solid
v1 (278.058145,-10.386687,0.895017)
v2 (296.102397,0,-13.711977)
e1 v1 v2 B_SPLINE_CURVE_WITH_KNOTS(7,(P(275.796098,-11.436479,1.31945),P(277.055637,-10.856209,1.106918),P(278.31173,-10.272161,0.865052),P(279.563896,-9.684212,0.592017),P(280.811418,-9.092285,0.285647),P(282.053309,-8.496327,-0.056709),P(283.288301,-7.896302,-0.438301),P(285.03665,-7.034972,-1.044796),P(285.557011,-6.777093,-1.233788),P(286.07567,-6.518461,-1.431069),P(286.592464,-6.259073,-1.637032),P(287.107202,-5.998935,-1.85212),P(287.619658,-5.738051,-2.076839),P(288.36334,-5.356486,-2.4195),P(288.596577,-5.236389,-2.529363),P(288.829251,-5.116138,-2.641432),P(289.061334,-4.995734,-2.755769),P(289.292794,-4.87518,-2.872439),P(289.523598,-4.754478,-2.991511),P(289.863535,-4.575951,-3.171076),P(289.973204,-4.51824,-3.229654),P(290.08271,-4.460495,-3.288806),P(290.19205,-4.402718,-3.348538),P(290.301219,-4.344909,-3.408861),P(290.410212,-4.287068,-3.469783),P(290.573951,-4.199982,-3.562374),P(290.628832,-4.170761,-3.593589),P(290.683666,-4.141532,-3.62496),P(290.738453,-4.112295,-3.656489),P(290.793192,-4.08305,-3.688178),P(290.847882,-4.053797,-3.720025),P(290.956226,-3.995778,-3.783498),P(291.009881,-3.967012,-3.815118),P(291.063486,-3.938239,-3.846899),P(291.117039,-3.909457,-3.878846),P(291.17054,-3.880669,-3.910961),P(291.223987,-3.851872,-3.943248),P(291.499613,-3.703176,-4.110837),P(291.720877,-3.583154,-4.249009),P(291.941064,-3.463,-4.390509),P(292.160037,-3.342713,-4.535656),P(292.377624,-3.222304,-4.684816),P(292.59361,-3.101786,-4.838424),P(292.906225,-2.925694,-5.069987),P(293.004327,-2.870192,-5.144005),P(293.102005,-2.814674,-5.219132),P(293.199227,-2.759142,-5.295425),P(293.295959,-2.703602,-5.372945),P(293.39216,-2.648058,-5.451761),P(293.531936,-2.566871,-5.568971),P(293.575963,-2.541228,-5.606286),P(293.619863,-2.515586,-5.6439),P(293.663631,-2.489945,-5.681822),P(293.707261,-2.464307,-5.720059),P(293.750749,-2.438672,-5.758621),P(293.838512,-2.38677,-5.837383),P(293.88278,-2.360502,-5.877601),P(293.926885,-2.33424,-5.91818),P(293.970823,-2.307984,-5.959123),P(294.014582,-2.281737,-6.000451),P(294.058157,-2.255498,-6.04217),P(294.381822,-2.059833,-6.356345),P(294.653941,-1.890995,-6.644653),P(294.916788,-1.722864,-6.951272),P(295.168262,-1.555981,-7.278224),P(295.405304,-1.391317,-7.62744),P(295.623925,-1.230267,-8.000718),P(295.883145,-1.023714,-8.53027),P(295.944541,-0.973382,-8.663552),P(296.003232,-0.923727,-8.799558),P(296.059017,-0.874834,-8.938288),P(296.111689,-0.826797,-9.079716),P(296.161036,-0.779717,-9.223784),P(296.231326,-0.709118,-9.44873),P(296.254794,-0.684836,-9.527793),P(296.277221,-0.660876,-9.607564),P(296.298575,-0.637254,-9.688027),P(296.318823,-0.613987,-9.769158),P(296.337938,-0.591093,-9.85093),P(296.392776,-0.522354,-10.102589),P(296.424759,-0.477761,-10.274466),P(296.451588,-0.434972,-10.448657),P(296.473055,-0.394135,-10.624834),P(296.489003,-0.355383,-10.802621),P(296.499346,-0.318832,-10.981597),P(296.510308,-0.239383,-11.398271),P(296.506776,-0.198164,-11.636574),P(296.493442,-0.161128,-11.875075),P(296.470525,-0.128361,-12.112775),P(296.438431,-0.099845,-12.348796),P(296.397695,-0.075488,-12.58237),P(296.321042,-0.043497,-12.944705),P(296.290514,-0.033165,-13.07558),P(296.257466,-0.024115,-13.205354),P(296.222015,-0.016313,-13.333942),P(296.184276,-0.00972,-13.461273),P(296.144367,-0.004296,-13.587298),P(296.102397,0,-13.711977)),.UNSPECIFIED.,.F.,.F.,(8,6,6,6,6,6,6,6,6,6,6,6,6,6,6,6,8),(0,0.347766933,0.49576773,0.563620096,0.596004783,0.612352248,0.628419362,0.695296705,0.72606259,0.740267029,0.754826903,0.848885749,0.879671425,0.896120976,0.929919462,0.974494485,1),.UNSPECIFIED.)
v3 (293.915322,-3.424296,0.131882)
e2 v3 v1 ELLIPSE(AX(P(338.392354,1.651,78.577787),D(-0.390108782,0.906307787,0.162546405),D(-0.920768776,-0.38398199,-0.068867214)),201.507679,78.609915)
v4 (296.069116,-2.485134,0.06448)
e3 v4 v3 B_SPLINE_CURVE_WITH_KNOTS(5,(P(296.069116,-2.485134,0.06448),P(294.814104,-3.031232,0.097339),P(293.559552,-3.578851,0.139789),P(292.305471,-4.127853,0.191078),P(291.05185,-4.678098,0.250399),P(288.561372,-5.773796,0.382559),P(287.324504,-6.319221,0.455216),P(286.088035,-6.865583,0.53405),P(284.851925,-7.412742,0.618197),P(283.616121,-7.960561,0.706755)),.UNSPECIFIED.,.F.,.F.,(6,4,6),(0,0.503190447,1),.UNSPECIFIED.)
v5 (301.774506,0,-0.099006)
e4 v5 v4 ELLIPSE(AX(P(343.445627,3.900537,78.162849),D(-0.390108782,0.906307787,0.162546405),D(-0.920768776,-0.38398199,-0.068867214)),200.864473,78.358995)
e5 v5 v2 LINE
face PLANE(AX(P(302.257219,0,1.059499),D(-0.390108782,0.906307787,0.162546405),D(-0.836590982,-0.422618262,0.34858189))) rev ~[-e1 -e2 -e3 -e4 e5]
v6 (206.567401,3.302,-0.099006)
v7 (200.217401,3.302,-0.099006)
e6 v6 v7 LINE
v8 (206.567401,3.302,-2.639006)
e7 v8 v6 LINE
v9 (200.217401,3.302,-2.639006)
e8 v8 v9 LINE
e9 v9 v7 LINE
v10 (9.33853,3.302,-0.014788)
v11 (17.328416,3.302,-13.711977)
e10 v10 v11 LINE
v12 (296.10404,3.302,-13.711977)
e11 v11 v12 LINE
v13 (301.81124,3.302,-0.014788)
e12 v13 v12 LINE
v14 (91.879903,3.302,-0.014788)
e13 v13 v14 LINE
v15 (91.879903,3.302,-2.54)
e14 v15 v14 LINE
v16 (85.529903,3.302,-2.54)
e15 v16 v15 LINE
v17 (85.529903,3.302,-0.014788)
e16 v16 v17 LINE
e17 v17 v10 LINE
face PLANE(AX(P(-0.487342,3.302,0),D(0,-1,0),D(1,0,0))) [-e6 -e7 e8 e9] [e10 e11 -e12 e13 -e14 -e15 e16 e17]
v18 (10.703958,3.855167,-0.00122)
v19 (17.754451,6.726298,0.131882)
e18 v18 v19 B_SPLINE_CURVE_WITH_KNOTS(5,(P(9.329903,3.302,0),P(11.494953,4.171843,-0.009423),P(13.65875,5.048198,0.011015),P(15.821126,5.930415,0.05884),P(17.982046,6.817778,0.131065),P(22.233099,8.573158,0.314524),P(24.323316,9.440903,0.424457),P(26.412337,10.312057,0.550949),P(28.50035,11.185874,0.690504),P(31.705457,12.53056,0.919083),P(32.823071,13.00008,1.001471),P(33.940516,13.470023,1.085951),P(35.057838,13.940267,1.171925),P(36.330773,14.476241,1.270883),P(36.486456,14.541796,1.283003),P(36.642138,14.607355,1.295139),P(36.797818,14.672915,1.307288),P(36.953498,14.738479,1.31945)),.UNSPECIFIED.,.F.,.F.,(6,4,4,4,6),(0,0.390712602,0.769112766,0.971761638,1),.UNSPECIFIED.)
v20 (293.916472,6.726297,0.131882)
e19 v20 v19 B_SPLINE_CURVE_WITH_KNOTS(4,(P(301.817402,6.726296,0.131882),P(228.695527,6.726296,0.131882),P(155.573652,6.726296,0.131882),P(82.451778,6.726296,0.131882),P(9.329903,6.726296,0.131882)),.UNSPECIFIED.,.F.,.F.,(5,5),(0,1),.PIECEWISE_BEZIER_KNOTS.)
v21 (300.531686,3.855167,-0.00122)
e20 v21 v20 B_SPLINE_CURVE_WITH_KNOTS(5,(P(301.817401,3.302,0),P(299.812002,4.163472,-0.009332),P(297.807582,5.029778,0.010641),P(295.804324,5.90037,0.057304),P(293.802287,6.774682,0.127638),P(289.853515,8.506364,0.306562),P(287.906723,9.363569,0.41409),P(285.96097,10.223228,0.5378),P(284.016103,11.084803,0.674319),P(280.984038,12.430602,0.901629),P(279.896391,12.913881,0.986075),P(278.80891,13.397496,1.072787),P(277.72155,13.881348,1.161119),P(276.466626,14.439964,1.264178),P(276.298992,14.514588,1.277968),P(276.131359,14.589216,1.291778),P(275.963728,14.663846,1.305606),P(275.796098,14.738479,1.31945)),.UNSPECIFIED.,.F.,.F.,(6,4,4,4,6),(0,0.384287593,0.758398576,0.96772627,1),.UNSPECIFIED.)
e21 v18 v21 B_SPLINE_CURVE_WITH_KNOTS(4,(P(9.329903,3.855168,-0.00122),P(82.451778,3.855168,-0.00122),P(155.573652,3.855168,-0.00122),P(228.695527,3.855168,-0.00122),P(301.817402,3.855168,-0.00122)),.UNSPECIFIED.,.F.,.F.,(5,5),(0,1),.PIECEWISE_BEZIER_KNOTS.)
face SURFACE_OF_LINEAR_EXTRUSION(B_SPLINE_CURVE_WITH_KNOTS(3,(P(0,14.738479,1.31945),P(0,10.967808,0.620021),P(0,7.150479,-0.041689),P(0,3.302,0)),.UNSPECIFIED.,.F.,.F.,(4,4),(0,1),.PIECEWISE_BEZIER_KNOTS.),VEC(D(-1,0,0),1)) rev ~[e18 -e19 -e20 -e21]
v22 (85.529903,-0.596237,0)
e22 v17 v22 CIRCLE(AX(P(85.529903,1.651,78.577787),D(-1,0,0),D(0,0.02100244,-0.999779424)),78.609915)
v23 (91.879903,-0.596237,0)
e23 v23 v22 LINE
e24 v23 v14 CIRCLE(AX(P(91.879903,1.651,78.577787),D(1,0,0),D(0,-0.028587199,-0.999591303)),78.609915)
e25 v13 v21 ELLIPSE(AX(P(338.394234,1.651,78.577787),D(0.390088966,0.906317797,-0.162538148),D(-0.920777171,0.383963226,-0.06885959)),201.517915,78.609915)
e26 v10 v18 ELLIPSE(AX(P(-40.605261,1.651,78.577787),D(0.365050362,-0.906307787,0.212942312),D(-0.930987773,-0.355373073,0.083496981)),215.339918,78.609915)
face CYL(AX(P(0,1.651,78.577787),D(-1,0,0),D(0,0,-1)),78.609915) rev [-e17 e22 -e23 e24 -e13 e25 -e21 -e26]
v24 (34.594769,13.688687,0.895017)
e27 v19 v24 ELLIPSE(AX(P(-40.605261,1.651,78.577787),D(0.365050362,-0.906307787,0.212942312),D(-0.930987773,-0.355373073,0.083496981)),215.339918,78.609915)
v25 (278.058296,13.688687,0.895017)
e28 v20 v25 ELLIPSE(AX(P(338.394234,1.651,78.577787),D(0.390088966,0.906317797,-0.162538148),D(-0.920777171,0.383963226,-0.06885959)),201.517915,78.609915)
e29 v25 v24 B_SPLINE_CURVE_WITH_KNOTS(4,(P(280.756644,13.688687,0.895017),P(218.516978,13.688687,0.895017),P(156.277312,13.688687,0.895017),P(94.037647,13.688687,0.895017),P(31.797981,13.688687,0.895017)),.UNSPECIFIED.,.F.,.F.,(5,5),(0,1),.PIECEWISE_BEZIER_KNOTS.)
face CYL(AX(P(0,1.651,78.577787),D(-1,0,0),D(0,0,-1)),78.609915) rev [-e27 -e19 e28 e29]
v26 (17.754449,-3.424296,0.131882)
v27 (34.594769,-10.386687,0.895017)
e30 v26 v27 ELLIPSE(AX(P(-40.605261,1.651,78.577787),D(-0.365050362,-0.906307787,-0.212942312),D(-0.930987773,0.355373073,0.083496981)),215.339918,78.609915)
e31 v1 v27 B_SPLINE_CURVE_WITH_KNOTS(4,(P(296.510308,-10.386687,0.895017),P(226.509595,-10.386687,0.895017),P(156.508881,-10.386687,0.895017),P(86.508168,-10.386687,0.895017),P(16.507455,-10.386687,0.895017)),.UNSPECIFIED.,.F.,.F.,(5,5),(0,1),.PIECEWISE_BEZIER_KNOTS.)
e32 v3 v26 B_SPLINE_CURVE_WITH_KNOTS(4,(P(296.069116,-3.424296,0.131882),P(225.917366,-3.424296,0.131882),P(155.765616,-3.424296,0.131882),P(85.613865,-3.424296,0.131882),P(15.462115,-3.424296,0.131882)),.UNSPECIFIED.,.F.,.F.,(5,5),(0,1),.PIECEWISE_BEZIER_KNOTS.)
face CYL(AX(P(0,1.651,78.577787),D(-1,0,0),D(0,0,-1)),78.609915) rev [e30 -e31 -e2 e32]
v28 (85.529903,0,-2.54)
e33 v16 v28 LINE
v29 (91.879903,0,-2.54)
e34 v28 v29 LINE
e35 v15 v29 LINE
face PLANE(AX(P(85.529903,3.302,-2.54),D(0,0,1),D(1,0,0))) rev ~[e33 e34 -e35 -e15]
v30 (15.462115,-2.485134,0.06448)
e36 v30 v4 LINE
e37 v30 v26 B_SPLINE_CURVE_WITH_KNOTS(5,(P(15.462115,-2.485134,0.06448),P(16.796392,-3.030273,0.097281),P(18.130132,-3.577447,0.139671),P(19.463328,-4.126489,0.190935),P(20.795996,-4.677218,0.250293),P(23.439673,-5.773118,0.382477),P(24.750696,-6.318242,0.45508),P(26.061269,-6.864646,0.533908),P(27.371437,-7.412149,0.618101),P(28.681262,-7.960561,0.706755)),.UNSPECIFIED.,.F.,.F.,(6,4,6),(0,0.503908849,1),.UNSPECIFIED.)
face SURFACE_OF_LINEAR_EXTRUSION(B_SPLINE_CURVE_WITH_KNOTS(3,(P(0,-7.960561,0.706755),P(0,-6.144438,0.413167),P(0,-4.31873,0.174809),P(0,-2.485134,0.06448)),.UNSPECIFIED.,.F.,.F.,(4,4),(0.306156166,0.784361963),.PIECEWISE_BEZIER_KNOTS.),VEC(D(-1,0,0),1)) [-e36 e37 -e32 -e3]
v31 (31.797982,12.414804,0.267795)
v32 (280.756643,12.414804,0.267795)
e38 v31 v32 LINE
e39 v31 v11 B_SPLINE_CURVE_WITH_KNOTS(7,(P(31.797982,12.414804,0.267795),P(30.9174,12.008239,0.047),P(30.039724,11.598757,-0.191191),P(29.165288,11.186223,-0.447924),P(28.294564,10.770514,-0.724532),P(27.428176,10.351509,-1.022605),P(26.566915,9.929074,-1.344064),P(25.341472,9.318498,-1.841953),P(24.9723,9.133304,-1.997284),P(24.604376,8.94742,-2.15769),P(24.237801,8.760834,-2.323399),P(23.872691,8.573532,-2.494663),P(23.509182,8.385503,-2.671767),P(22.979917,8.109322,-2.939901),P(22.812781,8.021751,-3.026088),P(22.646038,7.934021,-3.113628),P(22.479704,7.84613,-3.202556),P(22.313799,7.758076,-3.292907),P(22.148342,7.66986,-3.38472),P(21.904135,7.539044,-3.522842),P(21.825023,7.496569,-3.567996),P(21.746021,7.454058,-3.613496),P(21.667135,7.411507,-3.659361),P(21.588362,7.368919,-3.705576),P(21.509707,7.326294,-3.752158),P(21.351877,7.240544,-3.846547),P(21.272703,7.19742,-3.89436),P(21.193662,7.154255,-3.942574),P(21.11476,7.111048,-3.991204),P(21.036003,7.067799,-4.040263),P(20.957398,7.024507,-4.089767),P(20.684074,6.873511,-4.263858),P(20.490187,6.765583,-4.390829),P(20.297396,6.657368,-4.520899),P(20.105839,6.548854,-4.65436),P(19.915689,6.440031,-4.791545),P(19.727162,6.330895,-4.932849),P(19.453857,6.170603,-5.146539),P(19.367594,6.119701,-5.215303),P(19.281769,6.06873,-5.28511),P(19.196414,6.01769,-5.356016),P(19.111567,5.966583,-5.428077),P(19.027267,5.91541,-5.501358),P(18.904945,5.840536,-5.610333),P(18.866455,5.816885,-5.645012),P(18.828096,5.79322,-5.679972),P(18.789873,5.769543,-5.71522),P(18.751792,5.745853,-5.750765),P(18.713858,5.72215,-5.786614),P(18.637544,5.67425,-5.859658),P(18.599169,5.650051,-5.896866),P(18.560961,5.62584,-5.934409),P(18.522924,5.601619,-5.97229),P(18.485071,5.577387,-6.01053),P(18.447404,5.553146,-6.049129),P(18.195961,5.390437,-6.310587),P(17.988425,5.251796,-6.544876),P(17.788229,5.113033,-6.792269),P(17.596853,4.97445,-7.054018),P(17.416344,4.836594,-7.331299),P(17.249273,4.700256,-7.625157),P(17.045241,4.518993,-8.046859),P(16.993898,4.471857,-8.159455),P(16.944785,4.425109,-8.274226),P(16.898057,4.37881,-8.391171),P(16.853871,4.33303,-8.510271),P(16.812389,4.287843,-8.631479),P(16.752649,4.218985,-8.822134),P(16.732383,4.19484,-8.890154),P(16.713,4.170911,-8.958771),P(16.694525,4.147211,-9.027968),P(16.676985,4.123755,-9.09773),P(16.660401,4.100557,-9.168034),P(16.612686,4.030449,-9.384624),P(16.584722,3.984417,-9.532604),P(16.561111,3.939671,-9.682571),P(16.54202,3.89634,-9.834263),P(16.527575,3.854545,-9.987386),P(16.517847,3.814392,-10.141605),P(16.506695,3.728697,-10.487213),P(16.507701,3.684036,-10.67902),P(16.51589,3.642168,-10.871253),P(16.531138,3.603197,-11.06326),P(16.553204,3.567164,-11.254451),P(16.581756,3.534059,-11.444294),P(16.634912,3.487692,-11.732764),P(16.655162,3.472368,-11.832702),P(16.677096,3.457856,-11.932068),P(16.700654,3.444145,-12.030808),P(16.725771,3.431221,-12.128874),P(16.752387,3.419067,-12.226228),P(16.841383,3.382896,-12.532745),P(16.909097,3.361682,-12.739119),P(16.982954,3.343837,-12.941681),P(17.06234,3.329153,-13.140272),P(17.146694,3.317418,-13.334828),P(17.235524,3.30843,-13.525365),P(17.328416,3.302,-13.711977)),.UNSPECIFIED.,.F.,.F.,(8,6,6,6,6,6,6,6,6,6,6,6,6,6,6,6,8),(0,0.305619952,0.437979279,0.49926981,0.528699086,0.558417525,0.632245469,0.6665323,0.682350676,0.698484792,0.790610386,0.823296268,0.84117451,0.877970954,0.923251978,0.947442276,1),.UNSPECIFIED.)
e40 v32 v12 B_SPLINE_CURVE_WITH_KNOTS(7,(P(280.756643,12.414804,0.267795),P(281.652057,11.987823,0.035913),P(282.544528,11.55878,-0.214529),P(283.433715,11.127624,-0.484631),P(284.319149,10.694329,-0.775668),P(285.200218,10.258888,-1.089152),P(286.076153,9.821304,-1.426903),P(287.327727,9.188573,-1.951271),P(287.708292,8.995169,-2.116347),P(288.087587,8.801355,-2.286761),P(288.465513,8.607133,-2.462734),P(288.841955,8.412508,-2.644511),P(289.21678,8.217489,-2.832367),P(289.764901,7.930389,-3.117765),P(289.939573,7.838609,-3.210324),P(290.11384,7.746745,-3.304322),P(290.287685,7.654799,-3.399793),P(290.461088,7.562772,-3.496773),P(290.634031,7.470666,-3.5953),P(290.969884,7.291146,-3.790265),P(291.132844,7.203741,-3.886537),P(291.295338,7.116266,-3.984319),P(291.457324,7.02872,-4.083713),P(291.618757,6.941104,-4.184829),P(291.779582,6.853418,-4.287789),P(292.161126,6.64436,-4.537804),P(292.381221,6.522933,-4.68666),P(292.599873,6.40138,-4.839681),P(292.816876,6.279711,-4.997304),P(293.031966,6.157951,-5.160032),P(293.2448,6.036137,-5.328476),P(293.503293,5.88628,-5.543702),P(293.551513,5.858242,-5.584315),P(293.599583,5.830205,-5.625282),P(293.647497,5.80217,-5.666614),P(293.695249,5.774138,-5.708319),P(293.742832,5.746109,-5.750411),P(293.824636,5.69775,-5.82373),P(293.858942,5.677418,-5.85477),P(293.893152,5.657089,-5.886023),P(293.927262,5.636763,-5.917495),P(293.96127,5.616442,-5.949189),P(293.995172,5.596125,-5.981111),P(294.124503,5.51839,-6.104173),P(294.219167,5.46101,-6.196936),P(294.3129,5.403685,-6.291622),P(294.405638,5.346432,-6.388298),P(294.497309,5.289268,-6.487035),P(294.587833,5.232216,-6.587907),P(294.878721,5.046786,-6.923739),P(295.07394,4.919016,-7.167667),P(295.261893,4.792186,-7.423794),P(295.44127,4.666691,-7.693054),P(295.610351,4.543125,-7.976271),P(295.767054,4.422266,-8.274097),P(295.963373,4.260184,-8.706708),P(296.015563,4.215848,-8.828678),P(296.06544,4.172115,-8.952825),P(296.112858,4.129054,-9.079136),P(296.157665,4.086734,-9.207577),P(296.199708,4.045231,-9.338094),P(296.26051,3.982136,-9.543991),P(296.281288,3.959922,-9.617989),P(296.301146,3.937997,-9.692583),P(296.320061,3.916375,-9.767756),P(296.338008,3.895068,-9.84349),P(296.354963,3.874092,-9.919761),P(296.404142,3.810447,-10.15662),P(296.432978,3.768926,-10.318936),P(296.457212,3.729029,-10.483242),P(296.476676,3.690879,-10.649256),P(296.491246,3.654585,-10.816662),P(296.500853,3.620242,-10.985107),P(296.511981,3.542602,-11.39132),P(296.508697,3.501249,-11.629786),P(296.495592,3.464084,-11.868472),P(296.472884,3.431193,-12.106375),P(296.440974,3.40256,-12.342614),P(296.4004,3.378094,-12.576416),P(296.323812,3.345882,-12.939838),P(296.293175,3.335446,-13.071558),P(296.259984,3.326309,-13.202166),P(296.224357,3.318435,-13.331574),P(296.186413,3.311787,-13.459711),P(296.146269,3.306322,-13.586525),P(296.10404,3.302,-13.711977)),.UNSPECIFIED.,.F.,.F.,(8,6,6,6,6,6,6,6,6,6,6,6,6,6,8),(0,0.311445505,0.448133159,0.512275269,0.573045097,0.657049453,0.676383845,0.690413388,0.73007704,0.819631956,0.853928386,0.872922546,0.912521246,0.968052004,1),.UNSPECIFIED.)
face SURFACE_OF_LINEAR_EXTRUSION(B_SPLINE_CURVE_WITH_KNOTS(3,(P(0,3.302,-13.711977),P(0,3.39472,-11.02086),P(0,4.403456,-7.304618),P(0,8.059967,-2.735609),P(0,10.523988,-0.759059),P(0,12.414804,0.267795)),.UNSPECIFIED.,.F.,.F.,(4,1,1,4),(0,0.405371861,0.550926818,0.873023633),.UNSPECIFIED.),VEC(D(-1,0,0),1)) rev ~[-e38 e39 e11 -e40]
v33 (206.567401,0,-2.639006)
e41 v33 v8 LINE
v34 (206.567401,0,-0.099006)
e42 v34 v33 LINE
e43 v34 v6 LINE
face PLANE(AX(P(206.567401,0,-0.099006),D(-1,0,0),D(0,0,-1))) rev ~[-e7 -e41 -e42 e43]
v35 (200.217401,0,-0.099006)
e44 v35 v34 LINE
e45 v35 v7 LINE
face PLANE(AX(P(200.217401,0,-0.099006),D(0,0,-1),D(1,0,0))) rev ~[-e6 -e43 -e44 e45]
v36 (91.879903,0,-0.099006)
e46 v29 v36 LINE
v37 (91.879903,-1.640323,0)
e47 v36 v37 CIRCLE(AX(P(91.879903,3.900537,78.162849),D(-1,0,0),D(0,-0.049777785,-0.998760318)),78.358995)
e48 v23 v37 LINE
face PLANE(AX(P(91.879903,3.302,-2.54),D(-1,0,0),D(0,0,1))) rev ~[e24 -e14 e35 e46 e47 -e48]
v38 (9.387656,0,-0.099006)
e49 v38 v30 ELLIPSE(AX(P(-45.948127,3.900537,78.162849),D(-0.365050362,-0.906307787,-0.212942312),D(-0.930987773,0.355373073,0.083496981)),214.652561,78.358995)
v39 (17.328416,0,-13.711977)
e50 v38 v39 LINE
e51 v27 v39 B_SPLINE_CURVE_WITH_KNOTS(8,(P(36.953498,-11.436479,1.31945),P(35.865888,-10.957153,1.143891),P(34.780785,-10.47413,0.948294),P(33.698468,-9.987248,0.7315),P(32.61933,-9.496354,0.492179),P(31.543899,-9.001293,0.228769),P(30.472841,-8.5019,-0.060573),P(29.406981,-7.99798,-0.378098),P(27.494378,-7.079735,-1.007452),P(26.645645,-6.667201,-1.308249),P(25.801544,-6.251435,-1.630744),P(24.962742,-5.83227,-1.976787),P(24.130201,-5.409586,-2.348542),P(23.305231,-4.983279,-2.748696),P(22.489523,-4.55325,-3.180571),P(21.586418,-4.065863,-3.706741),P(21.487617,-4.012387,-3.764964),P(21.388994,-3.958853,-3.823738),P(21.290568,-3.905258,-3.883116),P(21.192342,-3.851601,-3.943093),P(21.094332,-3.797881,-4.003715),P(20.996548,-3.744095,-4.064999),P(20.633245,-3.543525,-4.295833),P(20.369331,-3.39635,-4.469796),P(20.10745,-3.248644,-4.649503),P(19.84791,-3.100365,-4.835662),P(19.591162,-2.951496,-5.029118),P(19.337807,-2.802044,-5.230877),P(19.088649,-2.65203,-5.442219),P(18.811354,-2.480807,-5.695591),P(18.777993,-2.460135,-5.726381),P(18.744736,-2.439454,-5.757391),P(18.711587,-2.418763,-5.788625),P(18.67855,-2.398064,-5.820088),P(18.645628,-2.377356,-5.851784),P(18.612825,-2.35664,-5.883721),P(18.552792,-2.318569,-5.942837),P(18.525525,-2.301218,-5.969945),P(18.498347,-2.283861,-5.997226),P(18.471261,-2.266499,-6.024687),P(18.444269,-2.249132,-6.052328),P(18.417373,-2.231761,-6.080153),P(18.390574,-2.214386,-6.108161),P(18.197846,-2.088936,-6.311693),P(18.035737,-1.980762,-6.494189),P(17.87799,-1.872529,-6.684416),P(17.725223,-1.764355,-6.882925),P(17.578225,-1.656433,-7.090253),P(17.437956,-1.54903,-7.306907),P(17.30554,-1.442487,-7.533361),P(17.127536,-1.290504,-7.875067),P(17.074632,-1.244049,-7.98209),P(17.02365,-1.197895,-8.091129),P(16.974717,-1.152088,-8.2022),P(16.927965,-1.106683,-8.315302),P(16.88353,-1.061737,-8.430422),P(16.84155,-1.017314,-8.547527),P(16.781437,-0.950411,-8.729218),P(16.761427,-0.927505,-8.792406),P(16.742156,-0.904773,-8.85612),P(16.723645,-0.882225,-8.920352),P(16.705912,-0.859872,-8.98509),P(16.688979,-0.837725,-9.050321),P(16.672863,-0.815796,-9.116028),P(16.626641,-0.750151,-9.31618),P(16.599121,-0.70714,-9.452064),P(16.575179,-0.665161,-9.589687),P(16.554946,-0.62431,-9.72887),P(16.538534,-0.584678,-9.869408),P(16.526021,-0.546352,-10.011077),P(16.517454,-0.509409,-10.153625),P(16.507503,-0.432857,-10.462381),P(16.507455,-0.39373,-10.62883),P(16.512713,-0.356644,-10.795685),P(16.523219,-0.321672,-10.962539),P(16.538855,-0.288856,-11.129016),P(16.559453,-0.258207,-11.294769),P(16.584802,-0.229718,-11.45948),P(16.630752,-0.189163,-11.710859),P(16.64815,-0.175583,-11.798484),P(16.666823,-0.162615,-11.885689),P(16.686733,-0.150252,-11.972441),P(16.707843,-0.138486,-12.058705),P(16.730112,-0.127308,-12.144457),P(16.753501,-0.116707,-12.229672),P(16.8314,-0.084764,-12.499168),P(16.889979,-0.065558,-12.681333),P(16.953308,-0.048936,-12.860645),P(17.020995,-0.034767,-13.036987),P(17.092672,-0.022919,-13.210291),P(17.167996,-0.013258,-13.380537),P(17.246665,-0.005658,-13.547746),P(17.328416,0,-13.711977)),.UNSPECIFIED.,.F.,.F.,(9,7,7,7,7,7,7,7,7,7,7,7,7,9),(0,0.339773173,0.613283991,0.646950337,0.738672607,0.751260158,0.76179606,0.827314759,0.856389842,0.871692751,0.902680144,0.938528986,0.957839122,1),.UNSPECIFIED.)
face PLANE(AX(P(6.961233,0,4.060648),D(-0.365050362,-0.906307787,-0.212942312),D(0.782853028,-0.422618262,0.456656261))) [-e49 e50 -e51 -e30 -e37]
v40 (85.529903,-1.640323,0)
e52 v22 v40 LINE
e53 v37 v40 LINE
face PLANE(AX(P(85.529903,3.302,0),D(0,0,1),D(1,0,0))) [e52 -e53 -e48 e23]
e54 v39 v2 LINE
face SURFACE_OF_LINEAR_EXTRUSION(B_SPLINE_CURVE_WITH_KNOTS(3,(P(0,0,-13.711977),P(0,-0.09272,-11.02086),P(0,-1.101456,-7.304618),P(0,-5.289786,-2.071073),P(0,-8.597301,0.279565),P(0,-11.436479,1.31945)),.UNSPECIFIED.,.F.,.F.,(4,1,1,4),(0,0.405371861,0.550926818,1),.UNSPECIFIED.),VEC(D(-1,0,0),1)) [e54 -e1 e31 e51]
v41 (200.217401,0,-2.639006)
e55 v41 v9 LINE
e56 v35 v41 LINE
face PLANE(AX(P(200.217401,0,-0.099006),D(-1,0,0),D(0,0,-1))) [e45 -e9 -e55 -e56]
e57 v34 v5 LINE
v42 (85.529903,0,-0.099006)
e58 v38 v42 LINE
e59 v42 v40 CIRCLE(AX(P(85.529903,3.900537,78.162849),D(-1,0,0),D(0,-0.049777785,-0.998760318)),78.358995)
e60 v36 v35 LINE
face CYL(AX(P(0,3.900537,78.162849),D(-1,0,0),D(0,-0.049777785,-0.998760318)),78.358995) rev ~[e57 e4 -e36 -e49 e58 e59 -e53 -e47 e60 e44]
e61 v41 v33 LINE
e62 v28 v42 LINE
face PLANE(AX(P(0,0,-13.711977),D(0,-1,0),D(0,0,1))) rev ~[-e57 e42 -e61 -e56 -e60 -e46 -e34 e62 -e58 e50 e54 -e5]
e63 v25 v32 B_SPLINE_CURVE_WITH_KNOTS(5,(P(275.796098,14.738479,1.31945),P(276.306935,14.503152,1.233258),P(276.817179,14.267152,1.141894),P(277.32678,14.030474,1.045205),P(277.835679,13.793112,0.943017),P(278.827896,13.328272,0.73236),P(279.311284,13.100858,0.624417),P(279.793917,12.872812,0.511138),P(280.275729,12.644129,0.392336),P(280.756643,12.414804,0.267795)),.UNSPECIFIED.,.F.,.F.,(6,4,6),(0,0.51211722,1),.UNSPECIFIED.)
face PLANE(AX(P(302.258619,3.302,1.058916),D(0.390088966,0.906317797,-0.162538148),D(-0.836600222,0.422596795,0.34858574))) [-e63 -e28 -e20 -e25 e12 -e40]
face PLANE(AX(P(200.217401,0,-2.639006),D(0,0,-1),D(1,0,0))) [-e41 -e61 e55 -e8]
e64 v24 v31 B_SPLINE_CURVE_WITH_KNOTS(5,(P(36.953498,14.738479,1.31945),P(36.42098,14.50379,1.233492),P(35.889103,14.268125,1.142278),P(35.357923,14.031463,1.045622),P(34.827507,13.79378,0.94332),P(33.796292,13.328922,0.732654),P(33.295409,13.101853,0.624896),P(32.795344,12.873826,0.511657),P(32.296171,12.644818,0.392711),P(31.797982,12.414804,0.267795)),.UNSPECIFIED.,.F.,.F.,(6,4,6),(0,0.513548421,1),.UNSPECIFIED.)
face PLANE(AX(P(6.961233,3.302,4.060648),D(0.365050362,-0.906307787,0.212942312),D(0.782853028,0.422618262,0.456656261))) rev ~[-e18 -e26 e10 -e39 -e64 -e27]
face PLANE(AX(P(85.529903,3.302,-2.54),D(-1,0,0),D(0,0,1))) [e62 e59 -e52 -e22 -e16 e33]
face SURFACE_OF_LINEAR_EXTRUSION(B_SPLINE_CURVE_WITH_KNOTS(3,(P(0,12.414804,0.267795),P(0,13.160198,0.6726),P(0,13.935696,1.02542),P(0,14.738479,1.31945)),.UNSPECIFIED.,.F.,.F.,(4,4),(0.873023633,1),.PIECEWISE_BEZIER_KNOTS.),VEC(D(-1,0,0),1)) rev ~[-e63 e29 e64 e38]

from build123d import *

# Parameters (mm, degrees)
BOSS_EXTRUDE1_DEPTH      = 3.302
CHAMFER1_SIZE            = 1.27
CHAMFER1_SIZE2           = 2.723523789
CHAMFER1_PART_2_SIZE     = 1.27
CHAMFER1_PART_2_SIZE2    = 2.723523789
CHAMFER1_PART_3_SIZE     = 1.27
CHAMFER1_PART_3_SIZE2    = 2.723523789
BOSS_EXTRUDE2_DEPTH      = 304.8
LEADING_SIDE_DEPTH       = 8.679028657
LEADING_SIDE_DEPTH_BACK  = 277.442337519
TRAILING_SIDE_DEPTH      = 254
TRAILING_SIDE_DEPTH_BACK = 27.94
SKETCH9_W                = 305.493611557
SKETCH9_H                = 3.302
CUT_EXTRUDE1_DEPTH       = 9.89
CUT_EXTRUDE1_DEPTH_BACK  = 143.24
BOSS_EXTRUDE3_REACH      = 16.738
SKETCH10_W               = 6.35
SKETCH10_H               = 2.54
BOSS_EXTRUDE4_REACH      = 16.738
SKETCH11_W               = 6.35
SKETCH11_H               = 2.54
SKETCH12_R               = 78.609915156
CUT_EXTRUDE3_DEPTH       = 302.817401479


with BuildPart() as part:
    # Sketch1 → Boss-Extrude1 (new body)
    with BuildSketch(Plane(origin=(0, 0, 0), x_dir=(1, 0, 0), z_dir=(0, 1, 0))):
        Polygon((0, 0), (88.9, 142.24), (241.3, 142.24), (304.8, 0), (151.13, 0), (151.13, -8.89), (113.03, -8.89), (113.03, 0), align=None)
    extrude(amount=BOSS_EXTRUDE1_DEPTH)

    # Chamfer1
    chamfer1_edges = [part.edges().sort_by_distance(p)[0] for p in [
        (273.05, 3.302, -71.12),
        (273.05, 0, -71.12),
    ]]
    chamfer1_side = [part.faces().sort_by_distance(p)[0] for p in [
        (273.05, 1.651, -71.12),
    ]]
    chamfer(chamfer1_edges, length=CHAMFER1_SIZE, length2=CHAMFER1_SIZE2, reference=chamfer1_side[0])

    # Chamfer1 part 2
    chamfer1_part_2_edges = [part.edges().sort_by_distance(p)[0] for p in [
        (165.1, 3.302, -142.24),
        (165.1, 0, -142.24),
    ]]
    chamfer1_part_2_side = [part.faces().sort_by_distance(p)[0] for p in [
        (165.1, 1.651, -142.24),
    ]]
    chamfer(chamfer1_part_2_edges, length=CHAMFER1_PART_2_SIZE, length2=CHAMFER1_PART_2_SIZE2, reference=chamfer1_part_2_side[0])

    # Chamfer1 part 3
    chamfer1_part_3_edges = [part.edges().sort_by_distance(p)[0] for p in [
        (44.45, 3.302, -71.12),
        (44.45, 0, -71.12),
    ]]
    chamfer1_part_3_side = [part.faces().sort_by_distance(p)[0] for p in [
        (44.45, 1.651, -71.12),
    ]]
    chamfer(chamfer1_part_3_edges, length=CHAMFER1_PART_3_SIZE, length2=CHAMFER1_PART_3_SIZE2, reference=chamfer1_part_3_side[0])

    # Sketch2 → Boss-Extrude2 (add)
    with BuildSketch(Plane(origin=(0, 0, 0), x_dir=(0, 0, -1), z_dir=(1, 0, 0))):
        with BuildLine():
            Line((0, 3.302), (0.193860014, 3.302))
            ThreePointArc((0.193860014, 3.302), (0.095787095, 7.86512735), (-0.267795454, 12.414803957))
            add(Edge.make_bspline(
                [(-0.267795454, 12.414803957), (-0.672599921, 13.160197553), (-1.025420185, 13.935695512), (-1.319449565, 14.73847888)],
                knots=[0.873023633, 0.873023633, 0.873023633, 0.873023633, 1, 1, 1, 1], degree=3))
            add(Edge.make_bspline(
                [(-1.319449565, 14.73847888), (-0.620020797, 10.967807625), (0.041688756, 7.150478935), (0, 3.302)],
                knots=[0, 0, 0, 0, 1, 1, 1, 1], degree=3))
        make_face()
        with BuildLine():
            ThreePointArc((-0.267795454, 12.414803957), (0.095787095, 7.86512735), (0.193860014, 3.302))
            Line((0.193860014, 3.302), (13.71197658, 3.302))
            add(Edge.make_bspline(
                [(13.71197658, 3.302), (11.020860037, 3.394720033), (7.304618249, 4.403456005), (2.735609274, 8.059966642), (0.759058851, 10.523988305), (-0.267795454, 12.414803957)],
                knots=[0, 0, 0, 0, 0.405371861, 0.550926818, 0.873023633, 0.873023633, 0.873023633, 0.873023633], degree=3))
        make_face()
        with BuildLine():
            Line((13.71197658, 0), (0.099005708, 0))
            ThreePointArc((0.099005708, 0), (0.027136855, -1.243216756), (-0.064479677, -2.485134404))
            add(Edge.make_bspline(
                [(-0.706755386, -7.960561287), (-0.413166837, -6.144437691), (-0.174809494, -4.318730126), (-0.064479677, -2.485134404)],
                knots=[0.306156166, 0.306156166, 0.306156166, 0.306156166, 0.784361963, 0.784361963, 0.784361963, 0.784361963], degree=3))
            ThreePointArc((-0.706755386, -7.960561287), (-0.993529388, -9.701970199), (-1.319449565, -11.43647888))
            add(Edge.make_bspline(
                [(13.71197658, 0), (11.020860037, -0.092720033), (7.304618249, -1.101456005), (2.071072669, -5.289785507), (-0.279565435, -8.597301093), (-1.319449565, -11.43647888)],
                knots=[0, 0, 0, 0, 0.405371861, 0.550926818, 1, 1, 1, 1], degree=3))
        make_face()
    extrude(amount=BOSS_EXTRUDE2_DEPTH)

    # Sketch4 → Leading Side (cut, two sides)
    with BuildSketch(Plane(origin=(0, 0, 0), x_dir=(0, -1, 0), z_dir=(-0.503864435, 0, 0.863782745))) as leading_side_sk:
        Polygon((0, -7.461077899), (0, 8.059009466), (11.69047888, 33.129322328), (11.69047888, -6.284577832), align=None)
        Polygon((-14.99247888, 33.129322328), (-14.99247888, -6.284577832), (-3.302, -7.461077899), (-3.302, 8.059009466), align=None)
    extrude(amount=LEADING_SIDE_DEPTH, mode=Mode.SUBTRACT)
    extrude(leading_side_sk.sketch, amount=-LEADING_SIDE_DEPTH_BACK, mode=Mode.SUBTRACT)

    # Sketch6 → Trailing Side (cut, two sides)
    with BuildSketch(Plane(origin=(45.089267536, 0, 108.213523637), x_dir=(0, -1, 0), z_dir=(-0.38461756, 0, -0.923076016))) as trailing_side_sk:
        Polygon((0, -286.627436809), (0, -278.59888787), (11.43647888, -254.073279765), (11.43647888, -287.965550571), align=None)
        Polygon((-14.73847888, -254.073279765), (-14.73847888, -287.965550571), (-3.302, -286.627436809), (-3.302, -278.600404574), align=None)
    extrude(amount=TRAILING_SIDE_DEPTH, mode=Mode.SUBTRACT)
    extrude(trailing_side_sk.sketch, amount=-TRAILING_SIDE_DEPTH_BACK, mode=Mode.SUBTRACT)

    # Sketch9 → Cut-Extrude1 (cut, two sides)
    with BuildSketch(Plane.XY) as cut_extrude1_sk:
        with Locations((152.259463857, 1.651)):
            Rectangle(SKETCH9_W, SKETCH9_H)
    extrude(amount=CUT_EXTRUDE1_DEPTH, mode=Mode.SUBTRACT)
    extrude(cut_extrude1_sk.sketch, amount=-CUT_EXTRUDE1_DEPTH_BACK, mode=Mode.SUBTRACT)

    # Sketch10 → Boss-Extrude3 (add, up to next)
    with BuildSketch(Plane(origin=(0, 0, 0), x_dir=(1, 0, 0), z_dir=(0, 1, 0)), mode=Mode.PRIVATE) as boss_extrude3_sk1:
        with Locations((203.392401379, 1.369005708)):
            Rectangle(SKETCH10_W, SKETCH10_H)
    boss_extrude3_tool1 = extrude(boss_extrude3_sk1.sketch, amount=BOSS_EXTRUDE3_REACH, mode=Mode.PRIVATE) - part.part
    add(boss_extrude3_tool1.solids().sort_by_distance((203.392401, 0, -1.369006))[0])

    # Sketch11 → Boss-Extrude4 (add, up to next)
    with BuildSketch(Plane.XZ.offset(-3.302), mode=Mode.PRIVATE) as boss_extrude4_sk1:
        with Locations((88.704903276, -1.27)):
            Rectangle(SKETCH11_W, SKETCH11_H)
    boss_extrude4_tool1 = extrude(boss_extrude4_sk1.sketch, amount=BOSS_EXTRUDE4_REACH, mode=Mode.PRIVATE) - part.part
    add(boss_extrude4_tool1.solids().sort_by_distance((88.704903, 3.302, -1.27))[0])

    # Sketch12 → Cut-Extrude3 (cut, through all)
    with BuildSketch(Plane(origin=(0, 0, 0), x_dir=(0, 0, -1), z_dir=(1, 0, 0))):
        with Locations((-78.577787481, 1.651)):
            Circle(SKETCH12_R)
    extrude(amount=CUT_EXTRUDE3_DEPTH, mode=Mode.SUBTRACT)


solid = part.part
